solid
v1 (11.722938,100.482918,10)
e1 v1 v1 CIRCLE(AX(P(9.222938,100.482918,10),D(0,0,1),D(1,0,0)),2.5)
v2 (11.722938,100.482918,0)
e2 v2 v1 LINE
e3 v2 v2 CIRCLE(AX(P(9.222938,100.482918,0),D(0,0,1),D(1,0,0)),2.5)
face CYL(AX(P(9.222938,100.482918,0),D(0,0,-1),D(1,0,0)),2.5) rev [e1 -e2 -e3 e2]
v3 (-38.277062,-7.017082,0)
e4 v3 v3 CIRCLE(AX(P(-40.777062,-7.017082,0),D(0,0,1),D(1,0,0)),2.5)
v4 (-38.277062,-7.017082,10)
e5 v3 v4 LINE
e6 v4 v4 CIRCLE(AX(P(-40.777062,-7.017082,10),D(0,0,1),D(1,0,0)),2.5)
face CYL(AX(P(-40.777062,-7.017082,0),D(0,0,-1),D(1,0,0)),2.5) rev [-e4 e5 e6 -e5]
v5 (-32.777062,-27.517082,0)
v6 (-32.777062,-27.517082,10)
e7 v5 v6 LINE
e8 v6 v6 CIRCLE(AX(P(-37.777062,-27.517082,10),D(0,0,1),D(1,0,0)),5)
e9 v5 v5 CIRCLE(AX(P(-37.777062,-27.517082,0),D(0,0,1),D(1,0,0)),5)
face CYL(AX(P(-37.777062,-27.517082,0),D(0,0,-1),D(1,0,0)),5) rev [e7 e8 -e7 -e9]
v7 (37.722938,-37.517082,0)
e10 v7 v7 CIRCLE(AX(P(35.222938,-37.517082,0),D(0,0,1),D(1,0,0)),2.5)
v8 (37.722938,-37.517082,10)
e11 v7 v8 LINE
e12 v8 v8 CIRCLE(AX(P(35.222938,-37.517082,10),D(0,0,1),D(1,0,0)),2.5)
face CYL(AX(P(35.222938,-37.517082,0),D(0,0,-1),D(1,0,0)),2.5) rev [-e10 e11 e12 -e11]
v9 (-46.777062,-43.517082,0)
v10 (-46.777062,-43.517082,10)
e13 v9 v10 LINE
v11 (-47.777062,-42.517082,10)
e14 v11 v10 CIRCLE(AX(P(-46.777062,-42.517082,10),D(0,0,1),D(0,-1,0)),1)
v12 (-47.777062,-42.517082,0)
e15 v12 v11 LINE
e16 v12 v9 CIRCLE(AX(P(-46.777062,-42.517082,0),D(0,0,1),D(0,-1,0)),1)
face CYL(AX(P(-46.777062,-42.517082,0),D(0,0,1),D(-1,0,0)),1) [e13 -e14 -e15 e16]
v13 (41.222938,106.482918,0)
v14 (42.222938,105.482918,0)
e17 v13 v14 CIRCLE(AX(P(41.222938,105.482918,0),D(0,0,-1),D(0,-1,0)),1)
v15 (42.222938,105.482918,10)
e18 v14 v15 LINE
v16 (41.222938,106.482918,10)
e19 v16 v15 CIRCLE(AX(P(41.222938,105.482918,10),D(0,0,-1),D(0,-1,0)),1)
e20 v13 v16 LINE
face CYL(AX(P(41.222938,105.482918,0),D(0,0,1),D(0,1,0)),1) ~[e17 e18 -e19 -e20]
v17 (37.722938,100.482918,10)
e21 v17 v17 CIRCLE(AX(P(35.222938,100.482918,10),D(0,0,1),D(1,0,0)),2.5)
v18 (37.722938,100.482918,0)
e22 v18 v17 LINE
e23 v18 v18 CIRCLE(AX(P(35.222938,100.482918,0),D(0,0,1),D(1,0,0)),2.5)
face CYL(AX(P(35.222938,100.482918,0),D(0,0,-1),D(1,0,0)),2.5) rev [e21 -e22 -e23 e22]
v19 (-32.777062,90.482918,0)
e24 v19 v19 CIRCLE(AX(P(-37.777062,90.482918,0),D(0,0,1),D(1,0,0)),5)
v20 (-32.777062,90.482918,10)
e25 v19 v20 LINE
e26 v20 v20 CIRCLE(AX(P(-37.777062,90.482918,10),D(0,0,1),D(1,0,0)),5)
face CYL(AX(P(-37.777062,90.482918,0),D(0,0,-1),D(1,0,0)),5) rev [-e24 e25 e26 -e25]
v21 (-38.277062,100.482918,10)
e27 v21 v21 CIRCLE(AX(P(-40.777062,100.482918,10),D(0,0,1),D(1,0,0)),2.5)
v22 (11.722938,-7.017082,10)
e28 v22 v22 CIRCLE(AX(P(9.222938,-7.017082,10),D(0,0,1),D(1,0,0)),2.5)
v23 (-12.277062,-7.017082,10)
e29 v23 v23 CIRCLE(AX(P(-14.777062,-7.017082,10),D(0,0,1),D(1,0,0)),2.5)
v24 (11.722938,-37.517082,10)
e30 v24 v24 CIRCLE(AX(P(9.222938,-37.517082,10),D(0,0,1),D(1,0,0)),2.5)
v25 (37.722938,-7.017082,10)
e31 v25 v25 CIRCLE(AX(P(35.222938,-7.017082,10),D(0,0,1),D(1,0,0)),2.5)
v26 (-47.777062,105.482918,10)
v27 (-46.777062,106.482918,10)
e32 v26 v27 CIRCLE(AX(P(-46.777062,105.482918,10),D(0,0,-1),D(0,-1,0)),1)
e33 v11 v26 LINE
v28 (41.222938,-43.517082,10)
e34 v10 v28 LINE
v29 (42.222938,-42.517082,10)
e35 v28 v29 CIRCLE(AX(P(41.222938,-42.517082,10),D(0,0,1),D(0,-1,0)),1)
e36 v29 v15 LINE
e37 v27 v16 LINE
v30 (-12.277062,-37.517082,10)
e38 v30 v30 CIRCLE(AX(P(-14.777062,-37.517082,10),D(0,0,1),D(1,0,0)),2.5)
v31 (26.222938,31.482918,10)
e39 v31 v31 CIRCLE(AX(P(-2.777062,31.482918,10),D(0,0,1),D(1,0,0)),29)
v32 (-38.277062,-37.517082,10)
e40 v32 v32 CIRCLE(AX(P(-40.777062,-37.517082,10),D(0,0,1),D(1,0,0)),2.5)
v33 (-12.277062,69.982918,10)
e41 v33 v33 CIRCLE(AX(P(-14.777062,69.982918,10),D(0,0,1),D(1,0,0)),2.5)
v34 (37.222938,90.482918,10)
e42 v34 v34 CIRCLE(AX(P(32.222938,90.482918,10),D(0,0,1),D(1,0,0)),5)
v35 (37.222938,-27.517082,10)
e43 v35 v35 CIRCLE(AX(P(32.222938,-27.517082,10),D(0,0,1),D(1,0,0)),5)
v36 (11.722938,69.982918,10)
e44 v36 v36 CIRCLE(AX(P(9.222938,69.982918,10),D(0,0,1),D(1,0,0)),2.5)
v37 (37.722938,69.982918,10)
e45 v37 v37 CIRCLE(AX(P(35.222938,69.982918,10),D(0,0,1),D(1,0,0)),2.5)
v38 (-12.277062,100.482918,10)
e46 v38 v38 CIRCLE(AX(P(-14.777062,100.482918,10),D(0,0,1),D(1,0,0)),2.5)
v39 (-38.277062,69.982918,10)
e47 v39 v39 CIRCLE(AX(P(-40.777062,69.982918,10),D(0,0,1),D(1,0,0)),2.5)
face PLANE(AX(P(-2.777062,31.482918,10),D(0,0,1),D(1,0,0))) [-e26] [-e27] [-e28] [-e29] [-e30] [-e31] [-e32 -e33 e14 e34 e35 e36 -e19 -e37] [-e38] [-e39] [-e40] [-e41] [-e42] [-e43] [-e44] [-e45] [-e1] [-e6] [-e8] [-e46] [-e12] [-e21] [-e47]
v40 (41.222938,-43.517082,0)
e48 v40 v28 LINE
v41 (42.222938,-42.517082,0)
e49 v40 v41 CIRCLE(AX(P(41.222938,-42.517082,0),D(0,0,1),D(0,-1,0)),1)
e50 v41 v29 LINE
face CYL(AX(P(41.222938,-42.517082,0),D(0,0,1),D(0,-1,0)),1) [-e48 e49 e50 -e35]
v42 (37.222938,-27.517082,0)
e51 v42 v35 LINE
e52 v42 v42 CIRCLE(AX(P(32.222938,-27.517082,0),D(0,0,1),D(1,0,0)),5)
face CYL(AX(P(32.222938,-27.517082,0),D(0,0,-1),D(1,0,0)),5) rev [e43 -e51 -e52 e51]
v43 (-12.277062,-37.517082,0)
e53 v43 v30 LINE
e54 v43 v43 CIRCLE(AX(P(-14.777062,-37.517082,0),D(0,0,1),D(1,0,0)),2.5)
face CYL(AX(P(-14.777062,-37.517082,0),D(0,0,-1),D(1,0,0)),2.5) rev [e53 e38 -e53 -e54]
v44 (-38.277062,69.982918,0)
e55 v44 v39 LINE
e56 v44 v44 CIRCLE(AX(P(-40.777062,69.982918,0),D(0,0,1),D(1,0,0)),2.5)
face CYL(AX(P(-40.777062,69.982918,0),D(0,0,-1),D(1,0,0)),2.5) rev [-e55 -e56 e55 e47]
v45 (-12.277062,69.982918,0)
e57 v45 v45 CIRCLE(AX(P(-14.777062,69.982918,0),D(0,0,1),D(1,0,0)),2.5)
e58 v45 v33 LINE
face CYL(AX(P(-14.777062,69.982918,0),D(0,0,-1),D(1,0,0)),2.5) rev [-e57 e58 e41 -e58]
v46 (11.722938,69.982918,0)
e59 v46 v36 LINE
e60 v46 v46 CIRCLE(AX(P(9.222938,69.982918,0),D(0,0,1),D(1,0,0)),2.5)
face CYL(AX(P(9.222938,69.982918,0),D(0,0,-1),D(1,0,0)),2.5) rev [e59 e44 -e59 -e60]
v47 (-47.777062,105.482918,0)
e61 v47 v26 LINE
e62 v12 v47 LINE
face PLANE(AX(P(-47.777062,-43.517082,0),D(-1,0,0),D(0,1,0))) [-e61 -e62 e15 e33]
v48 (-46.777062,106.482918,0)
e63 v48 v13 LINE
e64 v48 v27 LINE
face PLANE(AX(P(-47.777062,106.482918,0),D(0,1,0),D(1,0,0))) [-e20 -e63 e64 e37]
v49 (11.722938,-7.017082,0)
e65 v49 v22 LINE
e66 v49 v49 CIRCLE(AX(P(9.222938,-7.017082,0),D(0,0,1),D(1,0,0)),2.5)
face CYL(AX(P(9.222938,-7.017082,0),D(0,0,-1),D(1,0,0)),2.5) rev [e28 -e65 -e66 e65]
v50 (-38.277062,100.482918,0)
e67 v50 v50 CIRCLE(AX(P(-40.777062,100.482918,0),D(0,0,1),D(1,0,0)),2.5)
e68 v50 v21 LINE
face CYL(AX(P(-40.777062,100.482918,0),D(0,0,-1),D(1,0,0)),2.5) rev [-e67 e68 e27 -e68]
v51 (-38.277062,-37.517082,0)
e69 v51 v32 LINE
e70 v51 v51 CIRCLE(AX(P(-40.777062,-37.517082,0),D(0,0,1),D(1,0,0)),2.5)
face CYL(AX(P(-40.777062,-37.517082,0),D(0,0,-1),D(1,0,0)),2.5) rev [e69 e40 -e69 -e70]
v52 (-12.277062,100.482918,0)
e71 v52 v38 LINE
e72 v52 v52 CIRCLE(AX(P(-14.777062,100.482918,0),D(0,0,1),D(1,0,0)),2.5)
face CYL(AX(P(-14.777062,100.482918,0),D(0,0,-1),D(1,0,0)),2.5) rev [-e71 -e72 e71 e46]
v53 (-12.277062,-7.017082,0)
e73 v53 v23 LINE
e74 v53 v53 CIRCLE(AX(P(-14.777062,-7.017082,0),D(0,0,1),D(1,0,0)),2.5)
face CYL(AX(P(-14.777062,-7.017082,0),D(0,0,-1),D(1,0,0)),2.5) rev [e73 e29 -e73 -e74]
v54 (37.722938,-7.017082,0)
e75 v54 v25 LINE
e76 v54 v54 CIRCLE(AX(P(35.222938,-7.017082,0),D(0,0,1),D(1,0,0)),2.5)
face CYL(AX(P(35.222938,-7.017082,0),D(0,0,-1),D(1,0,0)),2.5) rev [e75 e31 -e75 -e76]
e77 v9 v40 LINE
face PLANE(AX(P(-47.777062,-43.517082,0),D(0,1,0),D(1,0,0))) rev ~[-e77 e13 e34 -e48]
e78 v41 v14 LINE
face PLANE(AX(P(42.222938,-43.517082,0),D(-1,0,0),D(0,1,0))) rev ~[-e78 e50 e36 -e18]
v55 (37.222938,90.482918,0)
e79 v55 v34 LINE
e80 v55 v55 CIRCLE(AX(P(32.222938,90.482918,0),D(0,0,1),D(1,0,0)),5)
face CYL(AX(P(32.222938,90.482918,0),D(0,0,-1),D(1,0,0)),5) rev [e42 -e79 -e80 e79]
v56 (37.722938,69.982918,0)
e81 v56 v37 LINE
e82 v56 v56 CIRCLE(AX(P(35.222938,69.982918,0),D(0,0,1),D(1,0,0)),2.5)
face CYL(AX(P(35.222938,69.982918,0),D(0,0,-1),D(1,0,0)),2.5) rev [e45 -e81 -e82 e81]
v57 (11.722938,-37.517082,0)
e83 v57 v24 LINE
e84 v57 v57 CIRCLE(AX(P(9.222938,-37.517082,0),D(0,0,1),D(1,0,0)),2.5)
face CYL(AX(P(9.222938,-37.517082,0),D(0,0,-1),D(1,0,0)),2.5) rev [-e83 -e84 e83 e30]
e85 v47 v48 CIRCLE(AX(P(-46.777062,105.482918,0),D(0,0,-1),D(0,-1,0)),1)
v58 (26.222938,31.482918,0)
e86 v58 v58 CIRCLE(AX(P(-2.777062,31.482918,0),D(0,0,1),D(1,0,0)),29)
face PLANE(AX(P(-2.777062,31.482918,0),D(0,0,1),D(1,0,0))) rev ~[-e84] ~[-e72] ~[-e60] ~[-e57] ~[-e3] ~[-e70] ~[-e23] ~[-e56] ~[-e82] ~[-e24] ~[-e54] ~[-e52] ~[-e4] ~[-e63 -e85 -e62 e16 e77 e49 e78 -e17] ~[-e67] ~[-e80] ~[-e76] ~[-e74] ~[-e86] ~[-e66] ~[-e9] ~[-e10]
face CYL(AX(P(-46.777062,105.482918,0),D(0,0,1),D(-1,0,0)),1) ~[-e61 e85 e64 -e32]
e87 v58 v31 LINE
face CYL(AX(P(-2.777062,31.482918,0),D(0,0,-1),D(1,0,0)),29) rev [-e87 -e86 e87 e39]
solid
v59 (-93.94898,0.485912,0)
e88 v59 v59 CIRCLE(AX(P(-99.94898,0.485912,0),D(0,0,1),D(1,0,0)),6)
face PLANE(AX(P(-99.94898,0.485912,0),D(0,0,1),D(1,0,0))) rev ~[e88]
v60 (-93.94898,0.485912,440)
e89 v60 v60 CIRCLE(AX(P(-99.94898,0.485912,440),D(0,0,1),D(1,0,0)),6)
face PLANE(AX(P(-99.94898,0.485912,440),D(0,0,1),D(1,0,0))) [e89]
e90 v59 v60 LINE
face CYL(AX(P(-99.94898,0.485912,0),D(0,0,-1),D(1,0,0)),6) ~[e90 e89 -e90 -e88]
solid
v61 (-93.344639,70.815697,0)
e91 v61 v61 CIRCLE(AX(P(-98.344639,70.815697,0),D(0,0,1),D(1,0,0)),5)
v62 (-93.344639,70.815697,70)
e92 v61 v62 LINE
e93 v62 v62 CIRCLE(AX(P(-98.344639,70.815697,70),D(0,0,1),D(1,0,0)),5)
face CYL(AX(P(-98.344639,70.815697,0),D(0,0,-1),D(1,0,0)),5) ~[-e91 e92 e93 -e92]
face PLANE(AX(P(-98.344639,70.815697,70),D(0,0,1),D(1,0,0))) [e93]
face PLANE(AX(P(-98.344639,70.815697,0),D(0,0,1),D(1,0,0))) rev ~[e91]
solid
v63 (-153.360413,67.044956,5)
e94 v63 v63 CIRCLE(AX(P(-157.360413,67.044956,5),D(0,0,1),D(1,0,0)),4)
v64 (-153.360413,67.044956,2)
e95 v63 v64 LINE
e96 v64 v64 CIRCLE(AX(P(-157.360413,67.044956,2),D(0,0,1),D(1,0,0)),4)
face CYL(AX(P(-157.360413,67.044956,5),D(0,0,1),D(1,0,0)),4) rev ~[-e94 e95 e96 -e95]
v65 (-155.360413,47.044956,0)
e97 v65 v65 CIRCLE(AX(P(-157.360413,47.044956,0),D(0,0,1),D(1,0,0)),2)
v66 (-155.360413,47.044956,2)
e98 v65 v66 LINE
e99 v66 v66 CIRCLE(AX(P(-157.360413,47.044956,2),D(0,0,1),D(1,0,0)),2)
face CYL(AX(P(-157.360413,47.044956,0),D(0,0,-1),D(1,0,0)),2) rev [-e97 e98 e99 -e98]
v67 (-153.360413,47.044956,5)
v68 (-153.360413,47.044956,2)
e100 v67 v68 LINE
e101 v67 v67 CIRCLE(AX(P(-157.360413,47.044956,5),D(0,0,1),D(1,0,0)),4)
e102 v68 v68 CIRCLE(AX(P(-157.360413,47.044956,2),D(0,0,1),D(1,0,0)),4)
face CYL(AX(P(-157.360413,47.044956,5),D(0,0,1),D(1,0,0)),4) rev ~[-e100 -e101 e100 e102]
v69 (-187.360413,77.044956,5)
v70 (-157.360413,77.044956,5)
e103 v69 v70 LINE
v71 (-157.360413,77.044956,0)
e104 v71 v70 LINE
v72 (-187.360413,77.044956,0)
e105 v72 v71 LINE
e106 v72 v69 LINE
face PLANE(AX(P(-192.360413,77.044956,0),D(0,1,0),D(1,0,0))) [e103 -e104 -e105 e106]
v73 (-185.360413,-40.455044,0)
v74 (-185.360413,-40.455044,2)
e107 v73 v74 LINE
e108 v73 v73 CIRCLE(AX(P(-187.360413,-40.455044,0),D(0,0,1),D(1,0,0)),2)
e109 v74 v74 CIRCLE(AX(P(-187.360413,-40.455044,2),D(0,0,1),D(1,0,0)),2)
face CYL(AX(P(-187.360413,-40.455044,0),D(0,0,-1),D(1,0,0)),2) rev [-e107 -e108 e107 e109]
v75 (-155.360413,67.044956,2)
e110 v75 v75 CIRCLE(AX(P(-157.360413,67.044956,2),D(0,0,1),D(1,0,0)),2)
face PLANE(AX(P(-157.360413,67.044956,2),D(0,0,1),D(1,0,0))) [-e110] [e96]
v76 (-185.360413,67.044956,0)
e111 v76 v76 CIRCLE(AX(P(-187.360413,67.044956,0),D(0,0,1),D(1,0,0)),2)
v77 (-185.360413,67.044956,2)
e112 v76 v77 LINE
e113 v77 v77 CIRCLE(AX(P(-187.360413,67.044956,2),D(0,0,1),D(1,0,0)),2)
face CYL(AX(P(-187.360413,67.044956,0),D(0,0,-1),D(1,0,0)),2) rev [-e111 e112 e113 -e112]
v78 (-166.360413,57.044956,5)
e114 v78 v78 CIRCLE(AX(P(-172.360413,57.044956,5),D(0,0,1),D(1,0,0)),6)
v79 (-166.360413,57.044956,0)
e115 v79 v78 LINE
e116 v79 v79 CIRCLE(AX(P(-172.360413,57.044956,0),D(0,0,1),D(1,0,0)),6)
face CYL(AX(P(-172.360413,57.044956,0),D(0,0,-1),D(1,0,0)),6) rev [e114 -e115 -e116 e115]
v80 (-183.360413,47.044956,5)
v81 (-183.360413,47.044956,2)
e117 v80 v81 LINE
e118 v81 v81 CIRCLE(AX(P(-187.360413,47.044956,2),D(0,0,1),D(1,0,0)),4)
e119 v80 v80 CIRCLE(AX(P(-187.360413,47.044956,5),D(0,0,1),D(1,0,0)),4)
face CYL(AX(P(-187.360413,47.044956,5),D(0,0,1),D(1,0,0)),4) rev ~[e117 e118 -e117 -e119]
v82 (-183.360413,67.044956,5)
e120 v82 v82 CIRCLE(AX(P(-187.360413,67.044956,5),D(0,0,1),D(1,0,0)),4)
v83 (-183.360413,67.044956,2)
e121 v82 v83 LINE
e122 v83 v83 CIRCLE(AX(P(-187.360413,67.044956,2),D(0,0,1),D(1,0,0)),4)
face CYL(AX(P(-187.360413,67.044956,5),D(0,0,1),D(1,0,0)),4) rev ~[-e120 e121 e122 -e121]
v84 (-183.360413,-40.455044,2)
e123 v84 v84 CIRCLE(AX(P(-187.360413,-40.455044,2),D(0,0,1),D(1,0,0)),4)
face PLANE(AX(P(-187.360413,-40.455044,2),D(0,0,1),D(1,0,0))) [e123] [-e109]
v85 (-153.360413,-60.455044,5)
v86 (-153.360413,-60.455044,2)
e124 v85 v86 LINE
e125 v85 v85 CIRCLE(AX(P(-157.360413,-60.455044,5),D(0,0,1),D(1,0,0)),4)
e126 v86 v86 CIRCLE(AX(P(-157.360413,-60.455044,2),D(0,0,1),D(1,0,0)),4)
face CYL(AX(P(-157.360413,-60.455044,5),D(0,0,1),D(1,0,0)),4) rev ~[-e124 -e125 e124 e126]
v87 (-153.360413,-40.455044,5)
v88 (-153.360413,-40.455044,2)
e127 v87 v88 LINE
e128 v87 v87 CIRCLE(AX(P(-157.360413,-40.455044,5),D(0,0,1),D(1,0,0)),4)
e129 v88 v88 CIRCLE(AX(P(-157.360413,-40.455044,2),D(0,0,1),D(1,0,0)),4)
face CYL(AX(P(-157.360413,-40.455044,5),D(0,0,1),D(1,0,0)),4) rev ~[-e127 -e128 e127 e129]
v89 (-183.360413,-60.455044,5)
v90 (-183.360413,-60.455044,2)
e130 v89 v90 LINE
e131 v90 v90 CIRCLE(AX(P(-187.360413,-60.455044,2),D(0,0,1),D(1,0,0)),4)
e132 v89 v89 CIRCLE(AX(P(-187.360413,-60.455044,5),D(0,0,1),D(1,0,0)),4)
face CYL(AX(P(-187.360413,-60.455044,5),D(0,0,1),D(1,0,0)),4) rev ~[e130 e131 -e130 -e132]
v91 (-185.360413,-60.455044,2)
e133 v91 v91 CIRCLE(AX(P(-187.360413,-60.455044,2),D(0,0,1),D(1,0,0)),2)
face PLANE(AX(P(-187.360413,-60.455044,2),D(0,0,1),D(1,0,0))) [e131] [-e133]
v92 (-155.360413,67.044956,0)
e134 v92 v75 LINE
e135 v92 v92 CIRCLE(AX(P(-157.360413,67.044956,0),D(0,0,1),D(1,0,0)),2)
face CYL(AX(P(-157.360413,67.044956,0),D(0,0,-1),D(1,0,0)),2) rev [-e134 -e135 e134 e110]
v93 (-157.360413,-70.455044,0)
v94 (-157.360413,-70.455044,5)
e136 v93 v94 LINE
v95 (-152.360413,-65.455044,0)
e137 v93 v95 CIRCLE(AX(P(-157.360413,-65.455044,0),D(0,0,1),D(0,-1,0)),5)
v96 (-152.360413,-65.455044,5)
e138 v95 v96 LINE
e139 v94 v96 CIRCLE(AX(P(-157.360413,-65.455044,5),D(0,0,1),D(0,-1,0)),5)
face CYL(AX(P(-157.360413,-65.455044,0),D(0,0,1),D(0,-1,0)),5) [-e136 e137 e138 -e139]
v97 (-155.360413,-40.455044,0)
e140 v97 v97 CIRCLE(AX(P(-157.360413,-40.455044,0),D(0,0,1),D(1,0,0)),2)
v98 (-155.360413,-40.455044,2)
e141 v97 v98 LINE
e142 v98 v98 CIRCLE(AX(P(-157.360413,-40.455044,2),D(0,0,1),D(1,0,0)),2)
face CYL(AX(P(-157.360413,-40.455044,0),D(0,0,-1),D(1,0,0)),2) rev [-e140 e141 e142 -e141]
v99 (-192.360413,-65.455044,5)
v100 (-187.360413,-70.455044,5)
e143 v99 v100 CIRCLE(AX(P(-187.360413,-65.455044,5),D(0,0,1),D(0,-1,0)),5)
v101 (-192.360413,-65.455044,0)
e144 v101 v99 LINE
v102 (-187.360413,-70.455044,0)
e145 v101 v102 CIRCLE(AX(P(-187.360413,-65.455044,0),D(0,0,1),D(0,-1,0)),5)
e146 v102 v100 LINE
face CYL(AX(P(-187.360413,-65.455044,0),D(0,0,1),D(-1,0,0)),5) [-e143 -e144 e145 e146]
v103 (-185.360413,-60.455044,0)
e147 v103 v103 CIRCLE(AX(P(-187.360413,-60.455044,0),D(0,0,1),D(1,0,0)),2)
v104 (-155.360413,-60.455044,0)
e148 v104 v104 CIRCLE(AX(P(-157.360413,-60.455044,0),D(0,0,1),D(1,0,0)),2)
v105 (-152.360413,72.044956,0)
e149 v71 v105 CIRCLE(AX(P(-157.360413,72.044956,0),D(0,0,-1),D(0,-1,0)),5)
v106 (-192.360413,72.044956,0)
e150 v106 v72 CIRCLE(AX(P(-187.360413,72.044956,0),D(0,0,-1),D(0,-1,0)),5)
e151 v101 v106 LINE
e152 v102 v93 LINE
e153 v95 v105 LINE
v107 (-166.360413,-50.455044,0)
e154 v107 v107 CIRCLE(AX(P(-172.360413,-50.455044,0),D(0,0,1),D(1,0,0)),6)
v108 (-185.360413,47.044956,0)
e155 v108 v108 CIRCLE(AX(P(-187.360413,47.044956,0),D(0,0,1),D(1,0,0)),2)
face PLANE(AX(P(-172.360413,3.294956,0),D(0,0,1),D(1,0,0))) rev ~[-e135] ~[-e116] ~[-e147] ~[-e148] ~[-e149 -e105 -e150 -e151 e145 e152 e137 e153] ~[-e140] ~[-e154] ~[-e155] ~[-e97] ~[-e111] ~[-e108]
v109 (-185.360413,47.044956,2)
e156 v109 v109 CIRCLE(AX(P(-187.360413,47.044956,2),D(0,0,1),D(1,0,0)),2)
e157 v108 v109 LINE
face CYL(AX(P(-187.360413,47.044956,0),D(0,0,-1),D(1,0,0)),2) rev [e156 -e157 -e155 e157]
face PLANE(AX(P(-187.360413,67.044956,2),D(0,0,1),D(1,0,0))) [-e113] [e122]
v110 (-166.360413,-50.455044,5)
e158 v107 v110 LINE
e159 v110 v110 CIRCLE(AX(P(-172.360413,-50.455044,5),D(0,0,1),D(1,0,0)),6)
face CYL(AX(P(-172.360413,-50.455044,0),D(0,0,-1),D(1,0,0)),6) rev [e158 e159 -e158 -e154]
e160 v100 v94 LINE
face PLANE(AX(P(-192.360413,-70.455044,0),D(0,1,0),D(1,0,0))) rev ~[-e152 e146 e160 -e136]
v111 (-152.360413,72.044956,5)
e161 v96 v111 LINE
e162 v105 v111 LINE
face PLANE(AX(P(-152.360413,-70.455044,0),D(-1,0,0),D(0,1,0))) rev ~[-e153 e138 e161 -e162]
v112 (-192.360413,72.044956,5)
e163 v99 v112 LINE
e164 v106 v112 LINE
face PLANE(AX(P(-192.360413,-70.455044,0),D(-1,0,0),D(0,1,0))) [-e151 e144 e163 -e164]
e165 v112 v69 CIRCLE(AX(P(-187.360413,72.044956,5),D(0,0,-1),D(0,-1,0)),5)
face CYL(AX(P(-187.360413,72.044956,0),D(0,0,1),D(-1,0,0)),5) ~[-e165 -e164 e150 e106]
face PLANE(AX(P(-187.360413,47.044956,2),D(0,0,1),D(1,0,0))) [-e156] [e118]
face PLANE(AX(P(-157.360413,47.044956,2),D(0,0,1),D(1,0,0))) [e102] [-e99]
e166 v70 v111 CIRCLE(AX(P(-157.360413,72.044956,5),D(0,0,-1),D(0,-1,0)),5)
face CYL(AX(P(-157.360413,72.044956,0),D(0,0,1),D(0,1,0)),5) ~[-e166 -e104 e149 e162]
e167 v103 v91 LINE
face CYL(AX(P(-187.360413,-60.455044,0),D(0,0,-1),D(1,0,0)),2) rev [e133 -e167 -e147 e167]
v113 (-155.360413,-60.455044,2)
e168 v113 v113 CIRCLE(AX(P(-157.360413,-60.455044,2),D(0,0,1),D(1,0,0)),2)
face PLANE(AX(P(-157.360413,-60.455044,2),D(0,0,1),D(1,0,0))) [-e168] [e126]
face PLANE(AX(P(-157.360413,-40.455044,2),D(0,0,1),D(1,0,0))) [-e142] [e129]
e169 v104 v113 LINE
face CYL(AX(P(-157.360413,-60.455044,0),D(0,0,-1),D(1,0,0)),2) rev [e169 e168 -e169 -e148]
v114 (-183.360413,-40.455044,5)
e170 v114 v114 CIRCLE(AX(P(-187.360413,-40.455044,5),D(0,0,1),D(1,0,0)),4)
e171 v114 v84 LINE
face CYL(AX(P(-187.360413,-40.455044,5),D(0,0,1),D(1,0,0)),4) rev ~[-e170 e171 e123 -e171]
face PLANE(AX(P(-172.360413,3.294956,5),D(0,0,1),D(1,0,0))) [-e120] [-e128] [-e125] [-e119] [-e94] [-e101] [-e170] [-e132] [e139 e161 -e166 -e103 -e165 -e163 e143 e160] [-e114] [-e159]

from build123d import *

# Parameters (mm, degrees)
F0_W      = 90
F0_H      = 150
F0_R      = 2.5
F0_R_2    = 5
F0_R_3    = 29
F1_DEPTH  = 10
F2_R      = 1
F3_R      = 5
F4_DEPTH  = 70
F5_W      = 40
F5_H      = 147.5
F5_R      = 2
F5_R_2    = 6
F6_DEPTH  = 5
F7_R      = 5
F8_R      = 4
F8_R_2    = 2
F9_DEPTH  = 3
F10_R     = 6
F11_DEPTH = 440


with BuildPart() as f1:
    # F0 (on Top) → F1 (new body)
    with BuildSketch(Plane.XY):
        with Locations((-2.777062, 31.482918)):
            Rectangle(F0_W, F0_H)
        with Locations((-40.777062, -37.517082)):
            Circle(F0_R, mode=Mode.SUBTRACT)
        with Locations((-37.777062, -27.517082)):
            Circle(F0_R_2, mode=Mode.SUBTRACT)
        with Locations((-40.777062, -7.017082)):
            Circle(F0_R, mode=Mode.SUBTRACT)
        with Locations((-14.777062, -37.517082)):
            Circle(F0_R, mode=Mode.SUBTRACT)
        with Locations((-14.777062, -7.017082)):
            Circle(F0_R, mode=Mode.SUBTRACT)
        with Locations((9.222938, -37.517082)):
            Circle(F0_R, mode=Mode.SUBTRACT)
        with Locations((9.222938, -7.017082)):
            Circle(F0_R, mode=Mode.SUBTRACT)
        with Locations((35.222938, -37.517082)):
            Circle(F0_R, mode=Mode.SUBTRACT)
        with Locations((32.222938, -27.517082)):
            Circle(F0_R_2, mode=Mode.SUBTRACT)
        with Locations((35.222938, -7.017082)):
            Circle(F0_R, mode=Mode.SUBTRACT)
        with Locations((-40.777062, 69.982918)):
            Circle(F0_R, mode=Mode.SUBTRACT)
        with Locations((-37.777062, 90.482918)):
            Circle(F0_R_2, mode=Mode.SUBTRACT)
        with Locations((-40.777062, 100.482918)):
            Circle(F0_R, mode=Mode.SUBTRACT)
        with Locations((-14.777062, 69.982918)):
            Circle(F0_R, mode=Mode.SUBTRACT)
        with Locations((-14.777062, 100.482918)):
            Circle(F0_R, mode=Mode.SUBTRACT)
        with Locations((-2.777062, 31.482918)):
            Circle(F0_R_3, mode=Mode.SUBTRACT)
        with Locations((9.222938, 69.982918)):
            Circle(F0_R, mode=Mode.SUBTRACT)
        with Locations((9.222938, 100.482918)):
            Circle(F0_R, mode=Mode.SUBTRACT)
        with Locations((35.222938, 69.982918)):
            Circle(F0_R, mode=Mode.SUBTRACT)
        with Locations((32.222938, 90.482918)):
            Circle(F0_R_2, mode=Mode.SUBTRACT)
        with Locations((35.222938, 100.482918)):
            Circle(F0_R, mode=Mode.SUBTRACT)
    extrude(amount=F1_DEPTH)

    # F2
    f2_edges = [f1.edges().sort_by_distance(p)[0] for p in [
        (42.222938, -43.517082, 5),
        (42.222938, 106.482918, 5),
        (-47.777062, 106.482918, 5),
        (-47.777062, -43.517082, 5),
    ]]
    fillet(f2_edges, radius=F2_R)


with BuildPart() as f4:
    # F3 (on Top) → F4 (new body)
    with BuildSketch(Plane.XY):
        with Locations((-98.344639, 70.815697)):
            Circle(F3_R)
    extrude(amount=F4_DEPTH)


with BuildPart() as f6:
    # F5 (on Top) → F6 (new body)
    with BuildSketch(Plane.XY):
        with Locations((-172.360413, 3.294956)):
            Rectangle(F5_W, F5_H)
        with Locations((-187.360413, -60.455044)):
            Circle(F5_R, mode=Mode.SUBTRACT)
        with Locations((-187.360413, -40.455044)):
            Circle(F5_R, mode=Mode.SUBTRACT)
        with Locations((-172.360413, -50.455044)):
            Circle(F5_R_2, mode=Mode.SUBTRACT)
        with Locations((-157.360413, -60.455044)):
            Circle(F5_R, mode=Mode.SUBTRACT)
        with Locations((-157.360413, -40.455044)):
            Circle(F5_R, mode=Mode.SUBTRACT)
        with Locations((-187.360413, 47.044956)):
            Circle(F5_R, mode=Mode.SUBTRACT)
        with Locations((-187.360413, 67.044956)):
            Circle(F5_R, mode=Mode.SUBTRACT)
        with Locations((-172.360413, 57.044956)):
            Circle(F5_R_2, mode=Mode.SUBTRACT)
        with Locations((-157.360413, 47.044956)):
            Circle(F5_R, mode=Mode.SUBTRACT)
        with Locations((-157.360413, 67.044956)):
            Circle(F5_R, mode=Mode.SUBTRACT)
    extrude(amount=F6_DEPTH)

    # F7
    f7_edges = [f6.edges().sort_by_distance(p)[0] for p in [
        (-192.360413, 77.044956, 2.5),
        (-192.360413, -70.455044, 2.5),
        (-152.360413, -70.455044, 2.5),
        (-152.360413, 77.044956, 2.5),
    ]]
    fillet(f7_edges, radius=F7_R)

    # F8 (on face) → F9 (cut)
    with BuildSketch(Plane.XY.offset(5)):
        with Locations((-157.360413, 67.044956)):
            Circle(F8_R)
        with Locations((-157.360413, 67.044956)):
            Circle(F8_R_2, mode=Mode.SUBTRACT)
        with Locations((-157.360413, 47.044956)):
            Circle(F8_R)
        with Locations((-157.360413, 47.044956)):
            Circle(F8_R_2, mode=Mode.SUBTRACT)
        with Locations((-187.360413, 47.044956)):
            Circle(F8_R)
        with Locations((-187.360413, 47.044956)):
            Circle(F8_R_2, mode=Mode.SUBTRACT)
        with Locations((-187.360413, 67.044956)):
            Circle(F8_R)
        with Locations((-187.360413, 67.044956)):
            Circle(F8_R_2, mode=Mode.SUBTRACT)
        with Locations((-187.360413, -40.455044)):
            Circle(F8_R)
        with Locations((-187.360413, -40.455044)):
            Circle(F8_R_2, mode=Mode.SUBTRACT)
        with Locations((-157.360413, -40.455044)):
            Circle(F8_R)
        with Locations((-157.360413, -40.455044)):
            Circle(F8_R_2, mode=Mode.SUBTRACT)
        with Locations((-157.360413, -60.455044)):
            Circle(F8_R)
        with Locations((-157.360413, -60.455044)):
            Circle(F8_R_2, mode=Mode.SUBTRACT)
        with Locations((-187.360413, -60.455044)):
            Circle(F8_R)
        with Locations((-187.360413, -60.455044)):
            Circle(F8_R_2, mode=Mode.SUBTRACT)
    extrude(amount=-F9_DEPTH, mode=Mode.SUBTRACT)


with BuildPart() as f11:
    # F10 (on Top) → F11 (new body)
    with BuildSketch(Plane.XY):
        with Locations((-99.94898, 0.485912)):
            Circle(F10_R)
    extrude(amount=F11_DEPTH)


solid = Compound([f1.part, f4.part, f6.part, f11.part])
